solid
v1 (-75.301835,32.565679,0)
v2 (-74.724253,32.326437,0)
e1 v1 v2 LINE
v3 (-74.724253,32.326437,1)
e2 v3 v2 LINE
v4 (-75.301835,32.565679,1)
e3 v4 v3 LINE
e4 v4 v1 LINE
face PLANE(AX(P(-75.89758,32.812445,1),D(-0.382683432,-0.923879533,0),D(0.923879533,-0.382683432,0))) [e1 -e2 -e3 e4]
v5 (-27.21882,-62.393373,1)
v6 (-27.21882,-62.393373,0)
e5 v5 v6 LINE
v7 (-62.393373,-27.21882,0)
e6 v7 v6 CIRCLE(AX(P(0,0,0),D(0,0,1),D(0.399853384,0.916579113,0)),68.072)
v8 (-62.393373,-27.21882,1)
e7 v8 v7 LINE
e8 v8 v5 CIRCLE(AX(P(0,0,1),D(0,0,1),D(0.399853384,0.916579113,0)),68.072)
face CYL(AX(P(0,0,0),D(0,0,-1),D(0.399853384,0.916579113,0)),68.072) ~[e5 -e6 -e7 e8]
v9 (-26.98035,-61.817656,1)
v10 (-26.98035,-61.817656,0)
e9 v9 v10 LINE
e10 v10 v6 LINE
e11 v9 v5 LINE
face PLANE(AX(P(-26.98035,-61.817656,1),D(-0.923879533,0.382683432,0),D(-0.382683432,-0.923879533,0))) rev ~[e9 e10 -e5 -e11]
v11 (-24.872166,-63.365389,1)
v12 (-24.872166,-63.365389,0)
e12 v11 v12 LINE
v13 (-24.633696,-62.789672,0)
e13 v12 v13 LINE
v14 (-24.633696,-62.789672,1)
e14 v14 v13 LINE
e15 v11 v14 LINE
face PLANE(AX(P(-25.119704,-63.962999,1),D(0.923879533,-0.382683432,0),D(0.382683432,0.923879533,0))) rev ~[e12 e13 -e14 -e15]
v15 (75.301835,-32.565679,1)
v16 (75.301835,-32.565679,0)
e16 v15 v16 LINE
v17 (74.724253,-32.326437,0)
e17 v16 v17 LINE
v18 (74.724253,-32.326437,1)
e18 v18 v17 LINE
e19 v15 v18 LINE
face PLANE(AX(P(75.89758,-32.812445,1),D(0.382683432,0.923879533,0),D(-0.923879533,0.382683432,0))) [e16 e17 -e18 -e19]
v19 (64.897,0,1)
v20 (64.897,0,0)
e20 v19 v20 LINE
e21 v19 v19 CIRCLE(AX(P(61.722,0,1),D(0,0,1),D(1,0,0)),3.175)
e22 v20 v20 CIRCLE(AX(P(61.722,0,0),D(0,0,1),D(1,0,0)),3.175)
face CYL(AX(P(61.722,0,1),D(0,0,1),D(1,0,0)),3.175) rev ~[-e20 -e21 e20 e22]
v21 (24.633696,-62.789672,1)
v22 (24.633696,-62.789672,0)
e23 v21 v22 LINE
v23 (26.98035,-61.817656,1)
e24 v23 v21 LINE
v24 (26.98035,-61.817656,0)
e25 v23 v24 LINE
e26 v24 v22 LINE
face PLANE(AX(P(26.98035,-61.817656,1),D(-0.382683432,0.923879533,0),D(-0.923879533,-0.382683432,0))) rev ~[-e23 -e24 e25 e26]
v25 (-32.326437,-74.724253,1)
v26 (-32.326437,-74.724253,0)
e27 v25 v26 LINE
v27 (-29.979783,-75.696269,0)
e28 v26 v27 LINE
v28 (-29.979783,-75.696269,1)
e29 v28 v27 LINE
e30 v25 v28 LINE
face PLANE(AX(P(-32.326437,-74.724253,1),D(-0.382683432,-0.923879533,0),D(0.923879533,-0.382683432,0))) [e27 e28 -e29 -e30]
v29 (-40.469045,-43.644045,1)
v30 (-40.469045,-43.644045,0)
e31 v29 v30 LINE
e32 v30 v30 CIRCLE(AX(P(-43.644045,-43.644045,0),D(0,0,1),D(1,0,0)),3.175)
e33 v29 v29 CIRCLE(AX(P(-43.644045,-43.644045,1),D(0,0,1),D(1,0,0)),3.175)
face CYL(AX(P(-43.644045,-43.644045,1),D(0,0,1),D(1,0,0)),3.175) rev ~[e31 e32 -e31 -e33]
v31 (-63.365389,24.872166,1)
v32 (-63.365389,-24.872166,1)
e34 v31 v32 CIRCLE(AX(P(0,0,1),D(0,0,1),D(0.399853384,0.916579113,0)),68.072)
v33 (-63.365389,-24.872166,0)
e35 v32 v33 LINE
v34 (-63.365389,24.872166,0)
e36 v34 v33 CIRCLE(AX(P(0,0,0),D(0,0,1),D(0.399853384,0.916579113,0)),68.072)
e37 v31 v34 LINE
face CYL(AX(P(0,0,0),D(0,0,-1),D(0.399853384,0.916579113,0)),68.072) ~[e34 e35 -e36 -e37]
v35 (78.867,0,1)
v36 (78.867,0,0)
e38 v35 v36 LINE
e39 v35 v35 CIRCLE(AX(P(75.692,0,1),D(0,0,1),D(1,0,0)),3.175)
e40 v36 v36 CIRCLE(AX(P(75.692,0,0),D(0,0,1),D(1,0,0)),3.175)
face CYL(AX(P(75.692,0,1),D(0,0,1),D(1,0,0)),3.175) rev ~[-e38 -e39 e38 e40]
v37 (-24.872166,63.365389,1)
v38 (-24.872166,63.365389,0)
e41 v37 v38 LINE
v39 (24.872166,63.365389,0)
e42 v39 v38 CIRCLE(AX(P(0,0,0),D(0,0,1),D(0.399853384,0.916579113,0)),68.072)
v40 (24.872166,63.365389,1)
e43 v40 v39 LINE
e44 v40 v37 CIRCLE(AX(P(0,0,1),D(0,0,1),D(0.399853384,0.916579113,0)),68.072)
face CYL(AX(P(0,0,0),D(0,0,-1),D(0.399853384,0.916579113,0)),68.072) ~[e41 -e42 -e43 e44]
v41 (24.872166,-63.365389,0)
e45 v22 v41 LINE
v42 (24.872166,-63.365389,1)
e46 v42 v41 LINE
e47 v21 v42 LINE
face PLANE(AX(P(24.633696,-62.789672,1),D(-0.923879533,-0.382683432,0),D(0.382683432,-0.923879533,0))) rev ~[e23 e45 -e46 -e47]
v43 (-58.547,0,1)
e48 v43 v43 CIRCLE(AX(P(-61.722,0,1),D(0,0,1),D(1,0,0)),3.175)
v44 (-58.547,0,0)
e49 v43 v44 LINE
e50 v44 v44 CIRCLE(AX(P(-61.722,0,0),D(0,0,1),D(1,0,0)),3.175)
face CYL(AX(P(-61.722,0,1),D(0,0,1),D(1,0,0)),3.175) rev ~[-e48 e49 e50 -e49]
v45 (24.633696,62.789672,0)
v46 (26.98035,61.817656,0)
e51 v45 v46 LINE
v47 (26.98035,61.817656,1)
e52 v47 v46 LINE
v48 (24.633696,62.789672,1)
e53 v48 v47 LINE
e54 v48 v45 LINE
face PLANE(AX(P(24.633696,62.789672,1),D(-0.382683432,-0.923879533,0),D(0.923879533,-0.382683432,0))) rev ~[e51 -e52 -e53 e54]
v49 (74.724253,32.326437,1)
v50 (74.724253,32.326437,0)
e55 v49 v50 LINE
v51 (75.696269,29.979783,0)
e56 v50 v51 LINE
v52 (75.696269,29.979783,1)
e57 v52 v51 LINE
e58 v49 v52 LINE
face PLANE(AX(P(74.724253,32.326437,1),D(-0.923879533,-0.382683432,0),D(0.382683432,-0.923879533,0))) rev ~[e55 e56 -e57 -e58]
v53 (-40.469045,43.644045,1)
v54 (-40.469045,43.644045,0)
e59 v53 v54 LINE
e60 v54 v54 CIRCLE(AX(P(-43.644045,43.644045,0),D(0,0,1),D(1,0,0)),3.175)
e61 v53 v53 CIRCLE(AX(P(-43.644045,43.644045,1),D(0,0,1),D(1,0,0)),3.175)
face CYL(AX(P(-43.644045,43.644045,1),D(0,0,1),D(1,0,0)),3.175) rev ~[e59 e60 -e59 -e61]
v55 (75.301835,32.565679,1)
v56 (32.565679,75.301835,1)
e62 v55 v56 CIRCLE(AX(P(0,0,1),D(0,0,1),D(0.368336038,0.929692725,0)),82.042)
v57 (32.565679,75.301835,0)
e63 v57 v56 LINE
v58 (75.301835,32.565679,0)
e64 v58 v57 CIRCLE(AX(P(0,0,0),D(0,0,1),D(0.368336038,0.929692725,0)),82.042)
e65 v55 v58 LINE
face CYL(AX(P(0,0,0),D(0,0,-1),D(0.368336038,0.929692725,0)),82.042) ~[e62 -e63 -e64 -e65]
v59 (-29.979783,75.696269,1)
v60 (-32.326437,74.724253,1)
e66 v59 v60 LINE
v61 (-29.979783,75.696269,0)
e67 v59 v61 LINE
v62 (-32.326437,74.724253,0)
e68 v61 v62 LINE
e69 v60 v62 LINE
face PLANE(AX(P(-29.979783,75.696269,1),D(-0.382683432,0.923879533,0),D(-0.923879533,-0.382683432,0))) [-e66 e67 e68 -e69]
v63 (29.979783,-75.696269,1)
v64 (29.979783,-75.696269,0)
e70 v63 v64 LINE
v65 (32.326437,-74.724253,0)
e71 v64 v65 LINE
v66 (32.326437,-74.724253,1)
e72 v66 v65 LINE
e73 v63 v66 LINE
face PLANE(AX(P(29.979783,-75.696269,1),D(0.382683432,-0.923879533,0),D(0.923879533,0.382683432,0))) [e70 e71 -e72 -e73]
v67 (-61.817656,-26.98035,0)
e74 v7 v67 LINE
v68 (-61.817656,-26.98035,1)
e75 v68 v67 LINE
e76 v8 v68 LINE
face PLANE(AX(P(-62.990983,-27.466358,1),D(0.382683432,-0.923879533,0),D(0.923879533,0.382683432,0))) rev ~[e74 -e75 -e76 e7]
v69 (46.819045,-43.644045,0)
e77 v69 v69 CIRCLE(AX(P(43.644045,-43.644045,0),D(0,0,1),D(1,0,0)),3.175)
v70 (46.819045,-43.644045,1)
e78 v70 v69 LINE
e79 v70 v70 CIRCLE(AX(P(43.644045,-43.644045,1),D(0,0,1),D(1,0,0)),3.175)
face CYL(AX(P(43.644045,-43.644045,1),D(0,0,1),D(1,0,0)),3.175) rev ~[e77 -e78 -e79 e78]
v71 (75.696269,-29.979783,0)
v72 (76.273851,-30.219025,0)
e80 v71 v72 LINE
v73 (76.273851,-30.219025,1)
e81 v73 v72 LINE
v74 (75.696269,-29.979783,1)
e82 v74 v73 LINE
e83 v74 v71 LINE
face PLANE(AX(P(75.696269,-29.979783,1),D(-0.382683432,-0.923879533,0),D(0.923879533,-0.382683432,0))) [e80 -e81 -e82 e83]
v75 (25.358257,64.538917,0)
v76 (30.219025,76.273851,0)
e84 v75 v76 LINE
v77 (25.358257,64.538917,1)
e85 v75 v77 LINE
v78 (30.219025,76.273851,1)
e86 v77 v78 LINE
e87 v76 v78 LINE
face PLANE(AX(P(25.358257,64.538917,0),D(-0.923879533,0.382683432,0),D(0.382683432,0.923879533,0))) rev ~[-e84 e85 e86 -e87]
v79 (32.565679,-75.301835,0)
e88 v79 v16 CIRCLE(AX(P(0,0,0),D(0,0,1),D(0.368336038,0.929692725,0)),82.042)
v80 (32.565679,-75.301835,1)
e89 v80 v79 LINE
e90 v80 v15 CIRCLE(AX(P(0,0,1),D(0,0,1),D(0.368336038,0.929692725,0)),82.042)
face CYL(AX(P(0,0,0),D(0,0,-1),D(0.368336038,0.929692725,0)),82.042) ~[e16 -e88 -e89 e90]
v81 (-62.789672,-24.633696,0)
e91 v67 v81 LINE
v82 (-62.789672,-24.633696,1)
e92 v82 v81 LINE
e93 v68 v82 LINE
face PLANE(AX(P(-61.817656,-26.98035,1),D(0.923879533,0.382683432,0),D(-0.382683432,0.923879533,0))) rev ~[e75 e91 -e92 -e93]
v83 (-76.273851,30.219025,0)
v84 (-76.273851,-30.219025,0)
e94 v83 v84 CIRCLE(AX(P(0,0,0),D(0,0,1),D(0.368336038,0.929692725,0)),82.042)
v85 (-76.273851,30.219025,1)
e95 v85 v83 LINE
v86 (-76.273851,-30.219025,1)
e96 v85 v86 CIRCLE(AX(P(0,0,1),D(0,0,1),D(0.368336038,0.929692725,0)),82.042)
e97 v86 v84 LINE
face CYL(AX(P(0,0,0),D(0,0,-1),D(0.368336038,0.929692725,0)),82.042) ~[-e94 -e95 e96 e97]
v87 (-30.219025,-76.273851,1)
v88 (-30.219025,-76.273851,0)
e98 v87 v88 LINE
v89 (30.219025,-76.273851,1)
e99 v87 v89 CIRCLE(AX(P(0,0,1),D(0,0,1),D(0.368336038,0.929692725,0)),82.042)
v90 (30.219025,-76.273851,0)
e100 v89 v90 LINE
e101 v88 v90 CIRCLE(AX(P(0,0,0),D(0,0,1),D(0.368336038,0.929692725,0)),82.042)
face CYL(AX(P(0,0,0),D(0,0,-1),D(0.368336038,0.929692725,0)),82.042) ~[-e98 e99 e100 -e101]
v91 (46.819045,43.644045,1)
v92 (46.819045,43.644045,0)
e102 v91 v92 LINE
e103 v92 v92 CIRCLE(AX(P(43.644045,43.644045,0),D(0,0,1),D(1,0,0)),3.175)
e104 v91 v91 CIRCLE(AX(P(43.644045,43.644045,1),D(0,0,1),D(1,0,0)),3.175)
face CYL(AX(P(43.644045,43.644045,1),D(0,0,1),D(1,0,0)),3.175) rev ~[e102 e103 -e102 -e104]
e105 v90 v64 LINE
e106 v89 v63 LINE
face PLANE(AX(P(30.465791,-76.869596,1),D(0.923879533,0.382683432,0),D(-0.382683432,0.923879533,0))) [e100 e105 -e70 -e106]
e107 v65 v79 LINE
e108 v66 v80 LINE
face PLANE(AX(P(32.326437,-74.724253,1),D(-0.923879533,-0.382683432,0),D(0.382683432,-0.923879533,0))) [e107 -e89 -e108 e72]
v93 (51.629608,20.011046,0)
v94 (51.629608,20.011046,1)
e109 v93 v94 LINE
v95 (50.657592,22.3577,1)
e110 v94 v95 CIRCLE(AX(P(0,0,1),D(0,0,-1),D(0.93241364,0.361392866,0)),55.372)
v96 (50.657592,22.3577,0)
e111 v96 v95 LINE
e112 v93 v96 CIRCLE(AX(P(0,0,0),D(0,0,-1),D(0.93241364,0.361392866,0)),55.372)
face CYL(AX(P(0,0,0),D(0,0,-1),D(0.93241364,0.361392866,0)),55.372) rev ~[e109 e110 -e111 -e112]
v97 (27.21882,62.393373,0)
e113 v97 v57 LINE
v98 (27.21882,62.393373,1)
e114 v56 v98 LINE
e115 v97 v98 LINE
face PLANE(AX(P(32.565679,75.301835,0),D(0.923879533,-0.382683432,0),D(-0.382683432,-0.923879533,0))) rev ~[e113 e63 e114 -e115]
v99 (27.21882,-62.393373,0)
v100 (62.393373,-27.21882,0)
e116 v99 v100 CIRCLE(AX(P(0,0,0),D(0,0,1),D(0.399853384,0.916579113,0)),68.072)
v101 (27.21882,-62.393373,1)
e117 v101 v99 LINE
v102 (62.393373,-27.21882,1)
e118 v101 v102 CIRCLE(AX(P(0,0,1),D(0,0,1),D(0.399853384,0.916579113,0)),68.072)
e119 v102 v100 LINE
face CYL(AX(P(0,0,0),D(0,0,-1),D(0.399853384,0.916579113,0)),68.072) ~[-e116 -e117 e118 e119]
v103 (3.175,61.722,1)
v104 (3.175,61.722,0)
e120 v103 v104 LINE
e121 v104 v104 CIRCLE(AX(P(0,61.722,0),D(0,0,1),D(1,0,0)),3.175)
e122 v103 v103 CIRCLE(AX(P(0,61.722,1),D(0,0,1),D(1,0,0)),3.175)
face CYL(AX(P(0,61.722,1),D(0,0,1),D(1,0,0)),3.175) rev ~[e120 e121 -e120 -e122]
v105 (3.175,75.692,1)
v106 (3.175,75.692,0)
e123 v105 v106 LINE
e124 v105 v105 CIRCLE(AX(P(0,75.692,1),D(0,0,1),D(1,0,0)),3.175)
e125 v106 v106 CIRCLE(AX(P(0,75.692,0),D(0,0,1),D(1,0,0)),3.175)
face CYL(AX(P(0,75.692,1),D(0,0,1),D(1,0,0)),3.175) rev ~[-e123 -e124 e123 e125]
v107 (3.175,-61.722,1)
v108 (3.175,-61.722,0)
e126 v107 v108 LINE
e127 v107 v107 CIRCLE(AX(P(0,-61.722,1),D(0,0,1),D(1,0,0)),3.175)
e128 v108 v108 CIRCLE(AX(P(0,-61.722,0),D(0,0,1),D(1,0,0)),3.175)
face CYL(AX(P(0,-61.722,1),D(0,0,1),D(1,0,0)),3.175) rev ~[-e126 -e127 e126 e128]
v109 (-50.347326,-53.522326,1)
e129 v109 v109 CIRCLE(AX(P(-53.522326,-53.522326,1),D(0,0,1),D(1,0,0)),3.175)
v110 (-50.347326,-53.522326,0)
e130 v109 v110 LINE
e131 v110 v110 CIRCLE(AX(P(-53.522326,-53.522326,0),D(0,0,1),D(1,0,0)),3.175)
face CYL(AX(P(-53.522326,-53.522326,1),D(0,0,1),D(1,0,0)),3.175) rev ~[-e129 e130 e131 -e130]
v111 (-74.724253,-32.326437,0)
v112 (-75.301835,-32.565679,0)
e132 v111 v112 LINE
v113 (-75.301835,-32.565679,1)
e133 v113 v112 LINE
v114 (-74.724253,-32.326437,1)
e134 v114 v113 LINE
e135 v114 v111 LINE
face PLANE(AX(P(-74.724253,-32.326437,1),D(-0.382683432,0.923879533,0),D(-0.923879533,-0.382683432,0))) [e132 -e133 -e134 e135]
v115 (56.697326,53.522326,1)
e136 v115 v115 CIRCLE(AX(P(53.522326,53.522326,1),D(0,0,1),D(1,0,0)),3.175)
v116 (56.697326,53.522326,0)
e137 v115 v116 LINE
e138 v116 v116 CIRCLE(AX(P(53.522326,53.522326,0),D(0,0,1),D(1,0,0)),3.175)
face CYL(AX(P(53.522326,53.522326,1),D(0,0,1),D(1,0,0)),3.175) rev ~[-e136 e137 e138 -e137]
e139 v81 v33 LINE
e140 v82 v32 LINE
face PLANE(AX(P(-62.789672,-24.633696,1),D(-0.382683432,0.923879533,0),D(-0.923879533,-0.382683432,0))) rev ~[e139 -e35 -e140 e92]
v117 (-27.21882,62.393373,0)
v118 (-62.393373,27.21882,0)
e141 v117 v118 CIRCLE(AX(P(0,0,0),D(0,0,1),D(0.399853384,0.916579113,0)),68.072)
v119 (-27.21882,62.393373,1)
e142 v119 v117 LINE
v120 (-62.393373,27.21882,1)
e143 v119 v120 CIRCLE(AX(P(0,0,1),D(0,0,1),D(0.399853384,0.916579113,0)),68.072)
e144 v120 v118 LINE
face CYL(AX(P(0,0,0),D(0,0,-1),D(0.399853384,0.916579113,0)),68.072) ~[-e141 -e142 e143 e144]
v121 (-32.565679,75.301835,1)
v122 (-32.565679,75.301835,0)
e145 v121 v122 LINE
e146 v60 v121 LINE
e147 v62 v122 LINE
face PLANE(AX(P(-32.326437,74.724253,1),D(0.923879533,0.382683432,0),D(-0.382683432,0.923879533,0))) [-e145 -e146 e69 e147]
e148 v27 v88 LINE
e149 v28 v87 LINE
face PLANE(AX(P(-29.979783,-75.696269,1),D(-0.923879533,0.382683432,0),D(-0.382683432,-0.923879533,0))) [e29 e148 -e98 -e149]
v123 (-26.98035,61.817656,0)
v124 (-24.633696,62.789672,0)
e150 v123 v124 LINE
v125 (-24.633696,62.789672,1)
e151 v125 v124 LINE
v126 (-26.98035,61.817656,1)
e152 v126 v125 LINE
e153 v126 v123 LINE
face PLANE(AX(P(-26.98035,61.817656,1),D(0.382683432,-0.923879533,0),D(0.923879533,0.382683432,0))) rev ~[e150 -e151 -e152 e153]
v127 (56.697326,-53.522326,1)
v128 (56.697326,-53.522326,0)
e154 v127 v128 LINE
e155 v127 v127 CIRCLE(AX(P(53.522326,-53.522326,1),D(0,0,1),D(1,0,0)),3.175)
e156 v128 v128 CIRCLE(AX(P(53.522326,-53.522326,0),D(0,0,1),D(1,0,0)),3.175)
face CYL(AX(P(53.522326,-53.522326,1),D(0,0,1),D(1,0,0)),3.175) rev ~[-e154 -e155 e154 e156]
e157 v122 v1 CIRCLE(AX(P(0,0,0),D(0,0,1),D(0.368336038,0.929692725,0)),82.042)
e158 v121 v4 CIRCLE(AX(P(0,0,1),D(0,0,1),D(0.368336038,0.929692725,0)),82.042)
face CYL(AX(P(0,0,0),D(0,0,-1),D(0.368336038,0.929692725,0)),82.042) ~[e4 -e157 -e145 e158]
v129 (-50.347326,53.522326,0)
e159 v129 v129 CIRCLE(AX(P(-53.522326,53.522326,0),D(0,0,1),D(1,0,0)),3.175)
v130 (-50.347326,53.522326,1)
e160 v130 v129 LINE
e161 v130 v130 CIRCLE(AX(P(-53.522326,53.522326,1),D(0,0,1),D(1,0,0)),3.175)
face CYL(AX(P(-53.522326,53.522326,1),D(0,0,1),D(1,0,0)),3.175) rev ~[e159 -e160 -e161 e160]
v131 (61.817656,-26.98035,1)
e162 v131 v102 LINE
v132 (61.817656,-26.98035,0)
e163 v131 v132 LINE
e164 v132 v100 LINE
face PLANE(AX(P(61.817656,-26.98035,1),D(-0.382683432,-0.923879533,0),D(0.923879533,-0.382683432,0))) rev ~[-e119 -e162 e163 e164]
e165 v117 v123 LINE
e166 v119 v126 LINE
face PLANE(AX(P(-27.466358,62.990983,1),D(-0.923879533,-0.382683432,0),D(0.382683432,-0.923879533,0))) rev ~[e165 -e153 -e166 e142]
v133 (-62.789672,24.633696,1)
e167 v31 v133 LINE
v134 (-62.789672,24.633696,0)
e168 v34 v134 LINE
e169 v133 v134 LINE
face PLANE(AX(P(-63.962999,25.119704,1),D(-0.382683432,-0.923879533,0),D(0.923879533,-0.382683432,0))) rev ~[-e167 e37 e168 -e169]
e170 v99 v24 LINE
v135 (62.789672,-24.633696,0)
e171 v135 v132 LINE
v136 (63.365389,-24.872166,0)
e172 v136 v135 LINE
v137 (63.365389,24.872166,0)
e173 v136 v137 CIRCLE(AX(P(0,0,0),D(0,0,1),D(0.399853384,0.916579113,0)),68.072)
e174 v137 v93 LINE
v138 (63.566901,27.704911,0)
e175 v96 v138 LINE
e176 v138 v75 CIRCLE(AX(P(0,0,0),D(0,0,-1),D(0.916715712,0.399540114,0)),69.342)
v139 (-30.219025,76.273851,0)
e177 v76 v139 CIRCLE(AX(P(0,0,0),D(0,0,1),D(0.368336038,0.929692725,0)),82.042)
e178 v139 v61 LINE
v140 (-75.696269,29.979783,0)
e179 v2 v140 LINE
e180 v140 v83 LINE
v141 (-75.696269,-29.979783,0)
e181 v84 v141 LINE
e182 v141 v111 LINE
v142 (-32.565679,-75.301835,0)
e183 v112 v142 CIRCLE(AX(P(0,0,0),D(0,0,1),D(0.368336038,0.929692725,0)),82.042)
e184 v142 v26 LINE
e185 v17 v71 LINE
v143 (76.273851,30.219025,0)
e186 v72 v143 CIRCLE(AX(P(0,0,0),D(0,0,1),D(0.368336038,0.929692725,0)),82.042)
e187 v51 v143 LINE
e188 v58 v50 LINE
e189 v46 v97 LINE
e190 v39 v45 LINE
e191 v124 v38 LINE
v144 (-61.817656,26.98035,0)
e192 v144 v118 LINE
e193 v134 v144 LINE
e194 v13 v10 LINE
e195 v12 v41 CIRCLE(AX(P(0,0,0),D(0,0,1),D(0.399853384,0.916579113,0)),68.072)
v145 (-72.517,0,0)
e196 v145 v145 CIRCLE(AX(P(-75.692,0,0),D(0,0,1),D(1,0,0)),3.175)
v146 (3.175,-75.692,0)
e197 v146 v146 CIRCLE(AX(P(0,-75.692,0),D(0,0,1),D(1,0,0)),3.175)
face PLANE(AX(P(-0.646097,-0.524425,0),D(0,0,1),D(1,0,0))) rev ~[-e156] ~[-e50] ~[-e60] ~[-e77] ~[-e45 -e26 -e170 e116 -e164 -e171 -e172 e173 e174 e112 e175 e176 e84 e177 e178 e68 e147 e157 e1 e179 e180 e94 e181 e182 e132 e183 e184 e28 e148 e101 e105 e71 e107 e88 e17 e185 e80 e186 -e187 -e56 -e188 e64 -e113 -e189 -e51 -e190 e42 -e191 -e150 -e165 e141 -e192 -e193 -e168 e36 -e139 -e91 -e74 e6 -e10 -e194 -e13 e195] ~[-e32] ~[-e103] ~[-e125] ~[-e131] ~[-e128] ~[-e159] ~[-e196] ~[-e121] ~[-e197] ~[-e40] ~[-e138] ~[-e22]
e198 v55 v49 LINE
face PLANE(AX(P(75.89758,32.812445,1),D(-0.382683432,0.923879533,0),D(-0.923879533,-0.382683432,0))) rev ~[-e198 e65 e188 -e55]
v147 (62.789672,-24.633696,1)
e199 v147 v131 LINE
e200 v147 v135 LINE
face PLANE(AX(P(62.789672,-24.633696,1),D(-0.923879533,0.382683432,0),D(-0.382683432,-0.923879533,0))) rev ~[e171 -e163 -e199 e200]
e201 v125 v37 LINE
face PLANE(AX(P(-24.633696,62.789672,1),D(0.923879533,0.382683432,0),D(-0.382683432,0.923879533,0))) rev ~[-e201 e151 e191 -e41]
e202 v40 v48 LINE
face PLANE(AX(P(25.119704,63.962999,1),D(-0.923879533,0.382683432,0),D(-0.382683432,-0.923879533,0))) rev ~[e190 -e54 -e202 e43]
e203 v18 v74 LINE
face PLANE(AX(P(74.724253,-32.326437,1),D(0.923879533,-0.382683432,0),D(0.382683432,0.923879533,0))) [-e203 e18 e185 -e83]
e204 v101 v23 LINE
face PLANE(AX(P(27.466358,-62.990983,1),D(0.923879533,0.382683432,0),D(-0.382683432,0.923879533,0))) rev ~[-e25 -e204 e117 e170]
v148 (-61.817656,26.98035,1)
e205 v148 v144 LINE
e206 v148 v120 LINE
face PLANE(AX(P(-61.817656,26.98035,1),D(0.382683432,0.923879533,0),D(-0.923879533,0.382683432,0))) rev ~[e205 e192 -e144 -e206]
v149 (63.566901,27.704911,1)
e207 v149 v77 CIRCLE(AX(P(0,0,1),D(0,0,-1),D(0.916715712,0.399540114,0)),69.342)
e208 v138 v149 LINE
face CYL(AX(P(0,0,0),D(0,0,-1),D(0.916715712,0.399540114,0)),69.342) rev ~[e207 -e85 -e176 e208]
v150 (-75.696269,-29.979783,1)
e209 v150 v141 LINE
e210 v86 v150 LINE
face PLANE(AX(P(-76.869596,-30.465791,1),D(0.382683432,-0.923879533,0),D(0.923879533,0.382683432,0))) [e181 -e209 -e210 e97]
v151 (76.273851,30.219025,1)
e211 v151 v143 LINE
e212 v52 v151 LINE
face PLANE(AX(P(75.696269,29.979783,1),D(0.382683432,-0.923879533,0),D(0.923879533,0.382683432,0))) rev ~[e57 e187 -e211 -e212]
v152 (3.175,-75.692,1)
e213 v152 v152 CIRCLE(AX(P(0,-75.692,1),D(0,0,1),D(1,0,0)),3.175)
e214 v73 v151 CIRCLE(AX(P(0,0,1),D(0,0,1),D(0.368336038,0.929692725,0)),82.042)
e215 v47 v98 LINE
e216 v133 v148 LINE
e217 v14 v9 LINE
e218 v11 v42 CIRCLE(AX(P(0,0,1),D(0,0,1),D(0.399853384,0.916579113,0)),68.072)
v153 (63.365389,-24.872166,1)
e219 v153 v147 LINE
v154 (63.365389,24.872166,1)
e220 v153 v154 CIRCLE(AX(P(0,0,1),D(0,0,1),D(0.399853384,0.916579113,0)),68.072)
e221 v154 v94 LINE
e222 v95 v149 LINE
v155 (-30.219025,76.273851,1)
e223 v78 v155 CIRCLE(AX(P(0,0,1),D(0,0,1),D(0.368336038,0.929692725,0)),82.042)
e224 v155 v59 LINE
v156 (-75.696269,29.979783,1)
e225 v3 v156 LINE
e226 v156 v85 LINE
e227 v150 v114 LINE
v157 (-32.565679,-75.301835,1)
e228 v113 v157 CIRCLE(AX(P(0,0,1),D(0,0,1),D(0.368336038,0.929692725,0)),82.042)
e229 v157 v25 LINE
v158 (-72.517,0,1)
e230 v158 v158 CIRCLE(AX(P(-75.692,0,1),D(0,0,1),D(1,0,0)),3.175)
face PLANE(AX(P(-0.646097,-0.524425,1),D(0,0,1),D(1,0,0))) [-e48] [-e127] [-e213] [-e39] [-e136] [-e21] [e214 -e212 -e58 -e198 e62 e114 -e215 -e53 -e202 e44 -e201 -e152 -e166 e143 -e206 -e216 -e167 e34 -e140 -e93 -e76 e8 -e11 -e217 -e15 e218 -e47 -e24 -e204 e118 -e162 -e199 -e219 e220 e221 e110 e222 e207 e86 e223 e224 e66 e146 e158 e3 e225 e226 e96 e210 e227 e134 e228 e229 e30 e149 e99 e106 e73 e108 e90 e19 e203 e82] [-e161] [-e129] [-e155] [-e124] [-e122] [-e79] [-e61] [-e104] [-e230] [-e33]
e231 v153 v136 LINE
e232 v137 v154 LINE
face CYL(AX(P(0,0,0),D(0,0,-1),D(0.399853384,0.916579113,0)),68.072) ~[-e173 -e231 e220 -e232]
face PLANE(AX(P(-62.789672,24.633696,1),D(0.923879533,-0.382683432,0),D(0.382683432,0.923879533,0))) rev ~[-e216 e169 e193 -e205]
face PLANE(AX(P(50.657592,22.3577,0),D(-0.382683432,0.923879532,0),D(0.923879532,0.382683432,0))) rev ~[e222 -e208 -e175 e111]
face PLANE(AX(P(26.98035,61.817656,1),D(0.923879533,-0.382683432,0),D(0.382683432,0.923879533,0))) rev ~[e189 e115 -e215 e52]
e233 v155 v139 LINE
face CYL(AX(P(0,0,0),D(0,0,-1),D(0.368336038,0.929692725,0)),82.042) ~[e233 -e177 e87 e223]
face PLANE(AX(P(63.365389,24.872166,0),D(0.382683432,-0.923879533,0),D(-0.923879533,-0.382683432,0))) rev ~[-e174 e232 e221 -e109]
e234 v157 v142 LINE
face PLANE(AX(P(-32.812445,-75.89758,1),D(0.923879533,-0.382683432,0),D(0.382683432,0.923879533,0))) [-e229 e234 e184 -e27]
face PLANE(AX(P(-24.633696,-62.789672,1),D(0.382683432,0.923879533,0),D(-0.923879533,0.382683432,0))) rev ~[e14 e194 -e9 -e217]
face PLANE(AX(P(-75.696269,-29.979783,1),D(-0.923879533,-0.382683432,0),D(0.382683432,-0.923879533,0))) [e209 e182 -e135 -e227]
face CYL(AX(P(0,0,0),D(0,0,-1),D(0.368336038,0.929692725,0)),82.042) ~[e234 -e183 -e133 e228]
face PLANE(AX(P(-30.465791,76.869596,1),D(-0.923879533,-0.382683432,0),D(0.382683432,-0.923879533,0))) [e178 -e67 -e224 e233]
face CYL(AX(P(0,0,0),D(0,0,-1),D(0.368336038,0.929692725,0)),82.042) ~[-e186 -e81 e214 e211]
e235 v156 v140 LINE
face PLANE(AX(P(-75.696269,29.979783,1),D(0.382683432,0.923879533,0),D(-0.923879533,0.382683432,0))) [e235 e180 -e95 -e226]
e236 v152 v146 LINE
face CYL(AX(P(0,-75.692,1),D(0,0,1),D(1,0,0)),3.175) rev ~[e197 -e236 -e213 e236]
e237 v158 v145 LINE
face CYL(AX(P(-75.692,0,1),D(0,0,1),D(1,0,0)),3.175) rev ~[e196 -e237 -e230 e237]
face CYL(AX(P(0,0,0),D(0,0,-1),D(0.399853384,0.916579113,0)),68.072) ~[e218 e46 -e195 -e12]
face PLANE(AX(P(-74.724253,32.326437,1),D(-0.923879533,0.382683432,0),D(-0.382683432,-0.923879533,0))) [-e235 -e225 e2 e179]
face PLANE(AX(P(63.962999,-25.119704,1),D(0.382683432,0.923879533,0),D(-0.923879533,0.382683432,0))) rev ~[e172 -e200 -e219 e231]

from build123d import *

# Parameters (mm, degrees)
BOSS_EXTRUDE1_DEPTH = 1
SKETCH2_R           = 3.17500001
SKETCH2_R_2         = 3.175
CUT_EXTRUDE1_DEPTH  = 2
CUT_EXTRUDE2_DEPTH  = 2


with BuildPart() as part:
    # Sketch1 → Boss-Extrude1 (new body)
    with BuildSketch(Plane.XY):
        with BuildLine():
            Line((25.358256565, 64.538916848), (30.219025255, 76.273850543))
            ThreePointArc((30.219025255, 76.273850543), (-31.396114158, -75.796924606), (32.565679267, 75.301834625))
            Line((32.565679267, 75.301834625), (27.218819563, 62.393373411))
            ThreePointArc((27.218819563, 62.393373411), (-49.023820587, -47.227769363), (63.365389329, 24.872165551))
            Line((63.365389329, 24.872165551), (51.629608078, 20.011045792))
            ThreePointArc((51.629608078, 20.011045792), (-51.157057474, -21.189947017), (50.65759216, 22.357699804))
            Line((50.65759216, 22.357699804), (63.56690093, 27.704910578))
            ThreePointArc((63.56690093, 27.704910578), (-48.125948441, -49.921999666), (25.358256565, 64.538916848))
        make_face()
    extrude(amount=BOSS_EXTRUDE1_DEPTH)

    # Sketch2 → Cut-Extrude1 (cut, through all)
    with BuildSketch(Plane.XY.offset(1)):
        with Locations((61.722, 0)):
            Circle(SKETCH2_R)
        with Locations((75.692, 0)):
            Circle(SKETCH2_R_2)
        with Locations((53.522326482, -53.522326482)):
            Circle(SKETCH2_R_2)
        with Locations((43.644044748, -43.644044748)):
            Circle(SKETCH2_R)
        with Locations((0, -75.692)):
            Circle(SKETCH2_R_2)
        with Locations((0, -61.722)):
            Circle(SKETCH2_R)
        with Locations((-53.522326482, -53.522326482)):
            Circle(SKETCH2_R_2)
        with Locations((-43.644044748, -43.644044748)):
            Circle(SKETCH2_R)
        with Locations((-75.692, 0)):
            Circle(SKETCH2_R_2)
        with Locations((-61.722, 0)):
            Circle(SKETCH2_R)
        with Locations((-53.522326482, 53.522326482)):
            Circle(SKETCH2_R_2)
        with Locations((-43.644044748, 43.644044748)):
            Circle(SKETCH2_R)
        with Locations((0, 75.692)):
            Circle(SKETCH2_R_2)
        with Locations((0, 61.722)):
            Circle(SKETCH2_R)
        with Locations((53.522326482, 53.522326482)):
            Circle(SKETCH2_R_2)
        with Locations((43.644044748, 43.644044748)):
            Circle(SKETCH2_R)
    extrude(amount=-CUT_EXTRUDE1_DEPTH, mode=Mode.SUBTRACT)

    # Sketch3 → Cut-Extrude2 (cut, through all)
    with BuildSketch(Plane.XY.offset(1)):
        Polygon((61.817656075, -26.980349635), (62.990983081, -27.466357594), (63.962998999, -25.119703581), (62.789671993, -24.633695622), align=None)
        Polygon((25.119703581, -63.962998999), (27.466357594, -62.990983081), (26.980349635, -61.817656075), (24.633695622, -62.789671993), align=None)
        Polygon((-27.466357594, -62.990983081), (-25.119703581, -63.962998999), (-24.633695622, -62.789671993), (-26.980349635, -61.817656075), align=None)
        Polygon((-63.962998999, -25.119703581), (-62.990983081, -27.466357594), (-61.817656075, -26.980349635), (-62.789671993, -24.633695622), align=None)
        Polygon((-62.990983081, 27.466357594), (-63.962998999, 25.119703581), (-62.789671993, 24.633695622), (-61.817656075, 26.980349635), align=None)
        Polygon((-25.119703581, 63.962998999), (-27.466357594, 62.990983081), (-26.980349635, 61.817656075), (-24.633695622, 62.789671993), align=None)
        Polygon((27.466357594, 62.990983081), (25.119703581, 63.962998999), (24.633695622, 62.789671993), (26.980349635, 61.817656075), align=None)
        Polygon((75.696269062, 29.979783172), (76.869596069, 30.465791131), (75.89758015, 32.812445144), (74.724253144, 32.326437185), align=None)
        Polygon((75.696269062, -29.979783172), (76.869596069, -30.465791131), (75.89758015, -32.812445144), (74.724253144, -32.326437185), align=None)
        Polygon((32.326437185, -74.724253144), (32.812445144, -75.89758015), (30.465791131, -76.869596069), (29.979783172, -75.696269062), align=None)
        Polygon((-29.979783172, -75.696269062), (-30.465791131, -76.869596069), (-32.812445144, -75.89758015), (-32.326437185, -74.724253144), align=None)
        Polygon((-74.724253144, -32.326437185), (-75.89758015, -32.812445144), (-76.869596069, -30.465791131), (-75.696269062, -29.979783172), align=None)
        Polygon((-75.696269062, 29.979783172), (-76.869596069, 30.465791131), (-75.89758015, 32.812445144), (-74.724253144, 32.326437185), align=None)
        Polygon((-32.326437185, 74.724253144), (-32.812445144, 75.89758015), (-30.465791131, 76.869596069), (-29.979783172, 75.696269062), align=None)
    extrude(amount=-CUT_EXTRUDE2_DEPTH, mode=Mode.SUBTRACT)


solid = part.part
